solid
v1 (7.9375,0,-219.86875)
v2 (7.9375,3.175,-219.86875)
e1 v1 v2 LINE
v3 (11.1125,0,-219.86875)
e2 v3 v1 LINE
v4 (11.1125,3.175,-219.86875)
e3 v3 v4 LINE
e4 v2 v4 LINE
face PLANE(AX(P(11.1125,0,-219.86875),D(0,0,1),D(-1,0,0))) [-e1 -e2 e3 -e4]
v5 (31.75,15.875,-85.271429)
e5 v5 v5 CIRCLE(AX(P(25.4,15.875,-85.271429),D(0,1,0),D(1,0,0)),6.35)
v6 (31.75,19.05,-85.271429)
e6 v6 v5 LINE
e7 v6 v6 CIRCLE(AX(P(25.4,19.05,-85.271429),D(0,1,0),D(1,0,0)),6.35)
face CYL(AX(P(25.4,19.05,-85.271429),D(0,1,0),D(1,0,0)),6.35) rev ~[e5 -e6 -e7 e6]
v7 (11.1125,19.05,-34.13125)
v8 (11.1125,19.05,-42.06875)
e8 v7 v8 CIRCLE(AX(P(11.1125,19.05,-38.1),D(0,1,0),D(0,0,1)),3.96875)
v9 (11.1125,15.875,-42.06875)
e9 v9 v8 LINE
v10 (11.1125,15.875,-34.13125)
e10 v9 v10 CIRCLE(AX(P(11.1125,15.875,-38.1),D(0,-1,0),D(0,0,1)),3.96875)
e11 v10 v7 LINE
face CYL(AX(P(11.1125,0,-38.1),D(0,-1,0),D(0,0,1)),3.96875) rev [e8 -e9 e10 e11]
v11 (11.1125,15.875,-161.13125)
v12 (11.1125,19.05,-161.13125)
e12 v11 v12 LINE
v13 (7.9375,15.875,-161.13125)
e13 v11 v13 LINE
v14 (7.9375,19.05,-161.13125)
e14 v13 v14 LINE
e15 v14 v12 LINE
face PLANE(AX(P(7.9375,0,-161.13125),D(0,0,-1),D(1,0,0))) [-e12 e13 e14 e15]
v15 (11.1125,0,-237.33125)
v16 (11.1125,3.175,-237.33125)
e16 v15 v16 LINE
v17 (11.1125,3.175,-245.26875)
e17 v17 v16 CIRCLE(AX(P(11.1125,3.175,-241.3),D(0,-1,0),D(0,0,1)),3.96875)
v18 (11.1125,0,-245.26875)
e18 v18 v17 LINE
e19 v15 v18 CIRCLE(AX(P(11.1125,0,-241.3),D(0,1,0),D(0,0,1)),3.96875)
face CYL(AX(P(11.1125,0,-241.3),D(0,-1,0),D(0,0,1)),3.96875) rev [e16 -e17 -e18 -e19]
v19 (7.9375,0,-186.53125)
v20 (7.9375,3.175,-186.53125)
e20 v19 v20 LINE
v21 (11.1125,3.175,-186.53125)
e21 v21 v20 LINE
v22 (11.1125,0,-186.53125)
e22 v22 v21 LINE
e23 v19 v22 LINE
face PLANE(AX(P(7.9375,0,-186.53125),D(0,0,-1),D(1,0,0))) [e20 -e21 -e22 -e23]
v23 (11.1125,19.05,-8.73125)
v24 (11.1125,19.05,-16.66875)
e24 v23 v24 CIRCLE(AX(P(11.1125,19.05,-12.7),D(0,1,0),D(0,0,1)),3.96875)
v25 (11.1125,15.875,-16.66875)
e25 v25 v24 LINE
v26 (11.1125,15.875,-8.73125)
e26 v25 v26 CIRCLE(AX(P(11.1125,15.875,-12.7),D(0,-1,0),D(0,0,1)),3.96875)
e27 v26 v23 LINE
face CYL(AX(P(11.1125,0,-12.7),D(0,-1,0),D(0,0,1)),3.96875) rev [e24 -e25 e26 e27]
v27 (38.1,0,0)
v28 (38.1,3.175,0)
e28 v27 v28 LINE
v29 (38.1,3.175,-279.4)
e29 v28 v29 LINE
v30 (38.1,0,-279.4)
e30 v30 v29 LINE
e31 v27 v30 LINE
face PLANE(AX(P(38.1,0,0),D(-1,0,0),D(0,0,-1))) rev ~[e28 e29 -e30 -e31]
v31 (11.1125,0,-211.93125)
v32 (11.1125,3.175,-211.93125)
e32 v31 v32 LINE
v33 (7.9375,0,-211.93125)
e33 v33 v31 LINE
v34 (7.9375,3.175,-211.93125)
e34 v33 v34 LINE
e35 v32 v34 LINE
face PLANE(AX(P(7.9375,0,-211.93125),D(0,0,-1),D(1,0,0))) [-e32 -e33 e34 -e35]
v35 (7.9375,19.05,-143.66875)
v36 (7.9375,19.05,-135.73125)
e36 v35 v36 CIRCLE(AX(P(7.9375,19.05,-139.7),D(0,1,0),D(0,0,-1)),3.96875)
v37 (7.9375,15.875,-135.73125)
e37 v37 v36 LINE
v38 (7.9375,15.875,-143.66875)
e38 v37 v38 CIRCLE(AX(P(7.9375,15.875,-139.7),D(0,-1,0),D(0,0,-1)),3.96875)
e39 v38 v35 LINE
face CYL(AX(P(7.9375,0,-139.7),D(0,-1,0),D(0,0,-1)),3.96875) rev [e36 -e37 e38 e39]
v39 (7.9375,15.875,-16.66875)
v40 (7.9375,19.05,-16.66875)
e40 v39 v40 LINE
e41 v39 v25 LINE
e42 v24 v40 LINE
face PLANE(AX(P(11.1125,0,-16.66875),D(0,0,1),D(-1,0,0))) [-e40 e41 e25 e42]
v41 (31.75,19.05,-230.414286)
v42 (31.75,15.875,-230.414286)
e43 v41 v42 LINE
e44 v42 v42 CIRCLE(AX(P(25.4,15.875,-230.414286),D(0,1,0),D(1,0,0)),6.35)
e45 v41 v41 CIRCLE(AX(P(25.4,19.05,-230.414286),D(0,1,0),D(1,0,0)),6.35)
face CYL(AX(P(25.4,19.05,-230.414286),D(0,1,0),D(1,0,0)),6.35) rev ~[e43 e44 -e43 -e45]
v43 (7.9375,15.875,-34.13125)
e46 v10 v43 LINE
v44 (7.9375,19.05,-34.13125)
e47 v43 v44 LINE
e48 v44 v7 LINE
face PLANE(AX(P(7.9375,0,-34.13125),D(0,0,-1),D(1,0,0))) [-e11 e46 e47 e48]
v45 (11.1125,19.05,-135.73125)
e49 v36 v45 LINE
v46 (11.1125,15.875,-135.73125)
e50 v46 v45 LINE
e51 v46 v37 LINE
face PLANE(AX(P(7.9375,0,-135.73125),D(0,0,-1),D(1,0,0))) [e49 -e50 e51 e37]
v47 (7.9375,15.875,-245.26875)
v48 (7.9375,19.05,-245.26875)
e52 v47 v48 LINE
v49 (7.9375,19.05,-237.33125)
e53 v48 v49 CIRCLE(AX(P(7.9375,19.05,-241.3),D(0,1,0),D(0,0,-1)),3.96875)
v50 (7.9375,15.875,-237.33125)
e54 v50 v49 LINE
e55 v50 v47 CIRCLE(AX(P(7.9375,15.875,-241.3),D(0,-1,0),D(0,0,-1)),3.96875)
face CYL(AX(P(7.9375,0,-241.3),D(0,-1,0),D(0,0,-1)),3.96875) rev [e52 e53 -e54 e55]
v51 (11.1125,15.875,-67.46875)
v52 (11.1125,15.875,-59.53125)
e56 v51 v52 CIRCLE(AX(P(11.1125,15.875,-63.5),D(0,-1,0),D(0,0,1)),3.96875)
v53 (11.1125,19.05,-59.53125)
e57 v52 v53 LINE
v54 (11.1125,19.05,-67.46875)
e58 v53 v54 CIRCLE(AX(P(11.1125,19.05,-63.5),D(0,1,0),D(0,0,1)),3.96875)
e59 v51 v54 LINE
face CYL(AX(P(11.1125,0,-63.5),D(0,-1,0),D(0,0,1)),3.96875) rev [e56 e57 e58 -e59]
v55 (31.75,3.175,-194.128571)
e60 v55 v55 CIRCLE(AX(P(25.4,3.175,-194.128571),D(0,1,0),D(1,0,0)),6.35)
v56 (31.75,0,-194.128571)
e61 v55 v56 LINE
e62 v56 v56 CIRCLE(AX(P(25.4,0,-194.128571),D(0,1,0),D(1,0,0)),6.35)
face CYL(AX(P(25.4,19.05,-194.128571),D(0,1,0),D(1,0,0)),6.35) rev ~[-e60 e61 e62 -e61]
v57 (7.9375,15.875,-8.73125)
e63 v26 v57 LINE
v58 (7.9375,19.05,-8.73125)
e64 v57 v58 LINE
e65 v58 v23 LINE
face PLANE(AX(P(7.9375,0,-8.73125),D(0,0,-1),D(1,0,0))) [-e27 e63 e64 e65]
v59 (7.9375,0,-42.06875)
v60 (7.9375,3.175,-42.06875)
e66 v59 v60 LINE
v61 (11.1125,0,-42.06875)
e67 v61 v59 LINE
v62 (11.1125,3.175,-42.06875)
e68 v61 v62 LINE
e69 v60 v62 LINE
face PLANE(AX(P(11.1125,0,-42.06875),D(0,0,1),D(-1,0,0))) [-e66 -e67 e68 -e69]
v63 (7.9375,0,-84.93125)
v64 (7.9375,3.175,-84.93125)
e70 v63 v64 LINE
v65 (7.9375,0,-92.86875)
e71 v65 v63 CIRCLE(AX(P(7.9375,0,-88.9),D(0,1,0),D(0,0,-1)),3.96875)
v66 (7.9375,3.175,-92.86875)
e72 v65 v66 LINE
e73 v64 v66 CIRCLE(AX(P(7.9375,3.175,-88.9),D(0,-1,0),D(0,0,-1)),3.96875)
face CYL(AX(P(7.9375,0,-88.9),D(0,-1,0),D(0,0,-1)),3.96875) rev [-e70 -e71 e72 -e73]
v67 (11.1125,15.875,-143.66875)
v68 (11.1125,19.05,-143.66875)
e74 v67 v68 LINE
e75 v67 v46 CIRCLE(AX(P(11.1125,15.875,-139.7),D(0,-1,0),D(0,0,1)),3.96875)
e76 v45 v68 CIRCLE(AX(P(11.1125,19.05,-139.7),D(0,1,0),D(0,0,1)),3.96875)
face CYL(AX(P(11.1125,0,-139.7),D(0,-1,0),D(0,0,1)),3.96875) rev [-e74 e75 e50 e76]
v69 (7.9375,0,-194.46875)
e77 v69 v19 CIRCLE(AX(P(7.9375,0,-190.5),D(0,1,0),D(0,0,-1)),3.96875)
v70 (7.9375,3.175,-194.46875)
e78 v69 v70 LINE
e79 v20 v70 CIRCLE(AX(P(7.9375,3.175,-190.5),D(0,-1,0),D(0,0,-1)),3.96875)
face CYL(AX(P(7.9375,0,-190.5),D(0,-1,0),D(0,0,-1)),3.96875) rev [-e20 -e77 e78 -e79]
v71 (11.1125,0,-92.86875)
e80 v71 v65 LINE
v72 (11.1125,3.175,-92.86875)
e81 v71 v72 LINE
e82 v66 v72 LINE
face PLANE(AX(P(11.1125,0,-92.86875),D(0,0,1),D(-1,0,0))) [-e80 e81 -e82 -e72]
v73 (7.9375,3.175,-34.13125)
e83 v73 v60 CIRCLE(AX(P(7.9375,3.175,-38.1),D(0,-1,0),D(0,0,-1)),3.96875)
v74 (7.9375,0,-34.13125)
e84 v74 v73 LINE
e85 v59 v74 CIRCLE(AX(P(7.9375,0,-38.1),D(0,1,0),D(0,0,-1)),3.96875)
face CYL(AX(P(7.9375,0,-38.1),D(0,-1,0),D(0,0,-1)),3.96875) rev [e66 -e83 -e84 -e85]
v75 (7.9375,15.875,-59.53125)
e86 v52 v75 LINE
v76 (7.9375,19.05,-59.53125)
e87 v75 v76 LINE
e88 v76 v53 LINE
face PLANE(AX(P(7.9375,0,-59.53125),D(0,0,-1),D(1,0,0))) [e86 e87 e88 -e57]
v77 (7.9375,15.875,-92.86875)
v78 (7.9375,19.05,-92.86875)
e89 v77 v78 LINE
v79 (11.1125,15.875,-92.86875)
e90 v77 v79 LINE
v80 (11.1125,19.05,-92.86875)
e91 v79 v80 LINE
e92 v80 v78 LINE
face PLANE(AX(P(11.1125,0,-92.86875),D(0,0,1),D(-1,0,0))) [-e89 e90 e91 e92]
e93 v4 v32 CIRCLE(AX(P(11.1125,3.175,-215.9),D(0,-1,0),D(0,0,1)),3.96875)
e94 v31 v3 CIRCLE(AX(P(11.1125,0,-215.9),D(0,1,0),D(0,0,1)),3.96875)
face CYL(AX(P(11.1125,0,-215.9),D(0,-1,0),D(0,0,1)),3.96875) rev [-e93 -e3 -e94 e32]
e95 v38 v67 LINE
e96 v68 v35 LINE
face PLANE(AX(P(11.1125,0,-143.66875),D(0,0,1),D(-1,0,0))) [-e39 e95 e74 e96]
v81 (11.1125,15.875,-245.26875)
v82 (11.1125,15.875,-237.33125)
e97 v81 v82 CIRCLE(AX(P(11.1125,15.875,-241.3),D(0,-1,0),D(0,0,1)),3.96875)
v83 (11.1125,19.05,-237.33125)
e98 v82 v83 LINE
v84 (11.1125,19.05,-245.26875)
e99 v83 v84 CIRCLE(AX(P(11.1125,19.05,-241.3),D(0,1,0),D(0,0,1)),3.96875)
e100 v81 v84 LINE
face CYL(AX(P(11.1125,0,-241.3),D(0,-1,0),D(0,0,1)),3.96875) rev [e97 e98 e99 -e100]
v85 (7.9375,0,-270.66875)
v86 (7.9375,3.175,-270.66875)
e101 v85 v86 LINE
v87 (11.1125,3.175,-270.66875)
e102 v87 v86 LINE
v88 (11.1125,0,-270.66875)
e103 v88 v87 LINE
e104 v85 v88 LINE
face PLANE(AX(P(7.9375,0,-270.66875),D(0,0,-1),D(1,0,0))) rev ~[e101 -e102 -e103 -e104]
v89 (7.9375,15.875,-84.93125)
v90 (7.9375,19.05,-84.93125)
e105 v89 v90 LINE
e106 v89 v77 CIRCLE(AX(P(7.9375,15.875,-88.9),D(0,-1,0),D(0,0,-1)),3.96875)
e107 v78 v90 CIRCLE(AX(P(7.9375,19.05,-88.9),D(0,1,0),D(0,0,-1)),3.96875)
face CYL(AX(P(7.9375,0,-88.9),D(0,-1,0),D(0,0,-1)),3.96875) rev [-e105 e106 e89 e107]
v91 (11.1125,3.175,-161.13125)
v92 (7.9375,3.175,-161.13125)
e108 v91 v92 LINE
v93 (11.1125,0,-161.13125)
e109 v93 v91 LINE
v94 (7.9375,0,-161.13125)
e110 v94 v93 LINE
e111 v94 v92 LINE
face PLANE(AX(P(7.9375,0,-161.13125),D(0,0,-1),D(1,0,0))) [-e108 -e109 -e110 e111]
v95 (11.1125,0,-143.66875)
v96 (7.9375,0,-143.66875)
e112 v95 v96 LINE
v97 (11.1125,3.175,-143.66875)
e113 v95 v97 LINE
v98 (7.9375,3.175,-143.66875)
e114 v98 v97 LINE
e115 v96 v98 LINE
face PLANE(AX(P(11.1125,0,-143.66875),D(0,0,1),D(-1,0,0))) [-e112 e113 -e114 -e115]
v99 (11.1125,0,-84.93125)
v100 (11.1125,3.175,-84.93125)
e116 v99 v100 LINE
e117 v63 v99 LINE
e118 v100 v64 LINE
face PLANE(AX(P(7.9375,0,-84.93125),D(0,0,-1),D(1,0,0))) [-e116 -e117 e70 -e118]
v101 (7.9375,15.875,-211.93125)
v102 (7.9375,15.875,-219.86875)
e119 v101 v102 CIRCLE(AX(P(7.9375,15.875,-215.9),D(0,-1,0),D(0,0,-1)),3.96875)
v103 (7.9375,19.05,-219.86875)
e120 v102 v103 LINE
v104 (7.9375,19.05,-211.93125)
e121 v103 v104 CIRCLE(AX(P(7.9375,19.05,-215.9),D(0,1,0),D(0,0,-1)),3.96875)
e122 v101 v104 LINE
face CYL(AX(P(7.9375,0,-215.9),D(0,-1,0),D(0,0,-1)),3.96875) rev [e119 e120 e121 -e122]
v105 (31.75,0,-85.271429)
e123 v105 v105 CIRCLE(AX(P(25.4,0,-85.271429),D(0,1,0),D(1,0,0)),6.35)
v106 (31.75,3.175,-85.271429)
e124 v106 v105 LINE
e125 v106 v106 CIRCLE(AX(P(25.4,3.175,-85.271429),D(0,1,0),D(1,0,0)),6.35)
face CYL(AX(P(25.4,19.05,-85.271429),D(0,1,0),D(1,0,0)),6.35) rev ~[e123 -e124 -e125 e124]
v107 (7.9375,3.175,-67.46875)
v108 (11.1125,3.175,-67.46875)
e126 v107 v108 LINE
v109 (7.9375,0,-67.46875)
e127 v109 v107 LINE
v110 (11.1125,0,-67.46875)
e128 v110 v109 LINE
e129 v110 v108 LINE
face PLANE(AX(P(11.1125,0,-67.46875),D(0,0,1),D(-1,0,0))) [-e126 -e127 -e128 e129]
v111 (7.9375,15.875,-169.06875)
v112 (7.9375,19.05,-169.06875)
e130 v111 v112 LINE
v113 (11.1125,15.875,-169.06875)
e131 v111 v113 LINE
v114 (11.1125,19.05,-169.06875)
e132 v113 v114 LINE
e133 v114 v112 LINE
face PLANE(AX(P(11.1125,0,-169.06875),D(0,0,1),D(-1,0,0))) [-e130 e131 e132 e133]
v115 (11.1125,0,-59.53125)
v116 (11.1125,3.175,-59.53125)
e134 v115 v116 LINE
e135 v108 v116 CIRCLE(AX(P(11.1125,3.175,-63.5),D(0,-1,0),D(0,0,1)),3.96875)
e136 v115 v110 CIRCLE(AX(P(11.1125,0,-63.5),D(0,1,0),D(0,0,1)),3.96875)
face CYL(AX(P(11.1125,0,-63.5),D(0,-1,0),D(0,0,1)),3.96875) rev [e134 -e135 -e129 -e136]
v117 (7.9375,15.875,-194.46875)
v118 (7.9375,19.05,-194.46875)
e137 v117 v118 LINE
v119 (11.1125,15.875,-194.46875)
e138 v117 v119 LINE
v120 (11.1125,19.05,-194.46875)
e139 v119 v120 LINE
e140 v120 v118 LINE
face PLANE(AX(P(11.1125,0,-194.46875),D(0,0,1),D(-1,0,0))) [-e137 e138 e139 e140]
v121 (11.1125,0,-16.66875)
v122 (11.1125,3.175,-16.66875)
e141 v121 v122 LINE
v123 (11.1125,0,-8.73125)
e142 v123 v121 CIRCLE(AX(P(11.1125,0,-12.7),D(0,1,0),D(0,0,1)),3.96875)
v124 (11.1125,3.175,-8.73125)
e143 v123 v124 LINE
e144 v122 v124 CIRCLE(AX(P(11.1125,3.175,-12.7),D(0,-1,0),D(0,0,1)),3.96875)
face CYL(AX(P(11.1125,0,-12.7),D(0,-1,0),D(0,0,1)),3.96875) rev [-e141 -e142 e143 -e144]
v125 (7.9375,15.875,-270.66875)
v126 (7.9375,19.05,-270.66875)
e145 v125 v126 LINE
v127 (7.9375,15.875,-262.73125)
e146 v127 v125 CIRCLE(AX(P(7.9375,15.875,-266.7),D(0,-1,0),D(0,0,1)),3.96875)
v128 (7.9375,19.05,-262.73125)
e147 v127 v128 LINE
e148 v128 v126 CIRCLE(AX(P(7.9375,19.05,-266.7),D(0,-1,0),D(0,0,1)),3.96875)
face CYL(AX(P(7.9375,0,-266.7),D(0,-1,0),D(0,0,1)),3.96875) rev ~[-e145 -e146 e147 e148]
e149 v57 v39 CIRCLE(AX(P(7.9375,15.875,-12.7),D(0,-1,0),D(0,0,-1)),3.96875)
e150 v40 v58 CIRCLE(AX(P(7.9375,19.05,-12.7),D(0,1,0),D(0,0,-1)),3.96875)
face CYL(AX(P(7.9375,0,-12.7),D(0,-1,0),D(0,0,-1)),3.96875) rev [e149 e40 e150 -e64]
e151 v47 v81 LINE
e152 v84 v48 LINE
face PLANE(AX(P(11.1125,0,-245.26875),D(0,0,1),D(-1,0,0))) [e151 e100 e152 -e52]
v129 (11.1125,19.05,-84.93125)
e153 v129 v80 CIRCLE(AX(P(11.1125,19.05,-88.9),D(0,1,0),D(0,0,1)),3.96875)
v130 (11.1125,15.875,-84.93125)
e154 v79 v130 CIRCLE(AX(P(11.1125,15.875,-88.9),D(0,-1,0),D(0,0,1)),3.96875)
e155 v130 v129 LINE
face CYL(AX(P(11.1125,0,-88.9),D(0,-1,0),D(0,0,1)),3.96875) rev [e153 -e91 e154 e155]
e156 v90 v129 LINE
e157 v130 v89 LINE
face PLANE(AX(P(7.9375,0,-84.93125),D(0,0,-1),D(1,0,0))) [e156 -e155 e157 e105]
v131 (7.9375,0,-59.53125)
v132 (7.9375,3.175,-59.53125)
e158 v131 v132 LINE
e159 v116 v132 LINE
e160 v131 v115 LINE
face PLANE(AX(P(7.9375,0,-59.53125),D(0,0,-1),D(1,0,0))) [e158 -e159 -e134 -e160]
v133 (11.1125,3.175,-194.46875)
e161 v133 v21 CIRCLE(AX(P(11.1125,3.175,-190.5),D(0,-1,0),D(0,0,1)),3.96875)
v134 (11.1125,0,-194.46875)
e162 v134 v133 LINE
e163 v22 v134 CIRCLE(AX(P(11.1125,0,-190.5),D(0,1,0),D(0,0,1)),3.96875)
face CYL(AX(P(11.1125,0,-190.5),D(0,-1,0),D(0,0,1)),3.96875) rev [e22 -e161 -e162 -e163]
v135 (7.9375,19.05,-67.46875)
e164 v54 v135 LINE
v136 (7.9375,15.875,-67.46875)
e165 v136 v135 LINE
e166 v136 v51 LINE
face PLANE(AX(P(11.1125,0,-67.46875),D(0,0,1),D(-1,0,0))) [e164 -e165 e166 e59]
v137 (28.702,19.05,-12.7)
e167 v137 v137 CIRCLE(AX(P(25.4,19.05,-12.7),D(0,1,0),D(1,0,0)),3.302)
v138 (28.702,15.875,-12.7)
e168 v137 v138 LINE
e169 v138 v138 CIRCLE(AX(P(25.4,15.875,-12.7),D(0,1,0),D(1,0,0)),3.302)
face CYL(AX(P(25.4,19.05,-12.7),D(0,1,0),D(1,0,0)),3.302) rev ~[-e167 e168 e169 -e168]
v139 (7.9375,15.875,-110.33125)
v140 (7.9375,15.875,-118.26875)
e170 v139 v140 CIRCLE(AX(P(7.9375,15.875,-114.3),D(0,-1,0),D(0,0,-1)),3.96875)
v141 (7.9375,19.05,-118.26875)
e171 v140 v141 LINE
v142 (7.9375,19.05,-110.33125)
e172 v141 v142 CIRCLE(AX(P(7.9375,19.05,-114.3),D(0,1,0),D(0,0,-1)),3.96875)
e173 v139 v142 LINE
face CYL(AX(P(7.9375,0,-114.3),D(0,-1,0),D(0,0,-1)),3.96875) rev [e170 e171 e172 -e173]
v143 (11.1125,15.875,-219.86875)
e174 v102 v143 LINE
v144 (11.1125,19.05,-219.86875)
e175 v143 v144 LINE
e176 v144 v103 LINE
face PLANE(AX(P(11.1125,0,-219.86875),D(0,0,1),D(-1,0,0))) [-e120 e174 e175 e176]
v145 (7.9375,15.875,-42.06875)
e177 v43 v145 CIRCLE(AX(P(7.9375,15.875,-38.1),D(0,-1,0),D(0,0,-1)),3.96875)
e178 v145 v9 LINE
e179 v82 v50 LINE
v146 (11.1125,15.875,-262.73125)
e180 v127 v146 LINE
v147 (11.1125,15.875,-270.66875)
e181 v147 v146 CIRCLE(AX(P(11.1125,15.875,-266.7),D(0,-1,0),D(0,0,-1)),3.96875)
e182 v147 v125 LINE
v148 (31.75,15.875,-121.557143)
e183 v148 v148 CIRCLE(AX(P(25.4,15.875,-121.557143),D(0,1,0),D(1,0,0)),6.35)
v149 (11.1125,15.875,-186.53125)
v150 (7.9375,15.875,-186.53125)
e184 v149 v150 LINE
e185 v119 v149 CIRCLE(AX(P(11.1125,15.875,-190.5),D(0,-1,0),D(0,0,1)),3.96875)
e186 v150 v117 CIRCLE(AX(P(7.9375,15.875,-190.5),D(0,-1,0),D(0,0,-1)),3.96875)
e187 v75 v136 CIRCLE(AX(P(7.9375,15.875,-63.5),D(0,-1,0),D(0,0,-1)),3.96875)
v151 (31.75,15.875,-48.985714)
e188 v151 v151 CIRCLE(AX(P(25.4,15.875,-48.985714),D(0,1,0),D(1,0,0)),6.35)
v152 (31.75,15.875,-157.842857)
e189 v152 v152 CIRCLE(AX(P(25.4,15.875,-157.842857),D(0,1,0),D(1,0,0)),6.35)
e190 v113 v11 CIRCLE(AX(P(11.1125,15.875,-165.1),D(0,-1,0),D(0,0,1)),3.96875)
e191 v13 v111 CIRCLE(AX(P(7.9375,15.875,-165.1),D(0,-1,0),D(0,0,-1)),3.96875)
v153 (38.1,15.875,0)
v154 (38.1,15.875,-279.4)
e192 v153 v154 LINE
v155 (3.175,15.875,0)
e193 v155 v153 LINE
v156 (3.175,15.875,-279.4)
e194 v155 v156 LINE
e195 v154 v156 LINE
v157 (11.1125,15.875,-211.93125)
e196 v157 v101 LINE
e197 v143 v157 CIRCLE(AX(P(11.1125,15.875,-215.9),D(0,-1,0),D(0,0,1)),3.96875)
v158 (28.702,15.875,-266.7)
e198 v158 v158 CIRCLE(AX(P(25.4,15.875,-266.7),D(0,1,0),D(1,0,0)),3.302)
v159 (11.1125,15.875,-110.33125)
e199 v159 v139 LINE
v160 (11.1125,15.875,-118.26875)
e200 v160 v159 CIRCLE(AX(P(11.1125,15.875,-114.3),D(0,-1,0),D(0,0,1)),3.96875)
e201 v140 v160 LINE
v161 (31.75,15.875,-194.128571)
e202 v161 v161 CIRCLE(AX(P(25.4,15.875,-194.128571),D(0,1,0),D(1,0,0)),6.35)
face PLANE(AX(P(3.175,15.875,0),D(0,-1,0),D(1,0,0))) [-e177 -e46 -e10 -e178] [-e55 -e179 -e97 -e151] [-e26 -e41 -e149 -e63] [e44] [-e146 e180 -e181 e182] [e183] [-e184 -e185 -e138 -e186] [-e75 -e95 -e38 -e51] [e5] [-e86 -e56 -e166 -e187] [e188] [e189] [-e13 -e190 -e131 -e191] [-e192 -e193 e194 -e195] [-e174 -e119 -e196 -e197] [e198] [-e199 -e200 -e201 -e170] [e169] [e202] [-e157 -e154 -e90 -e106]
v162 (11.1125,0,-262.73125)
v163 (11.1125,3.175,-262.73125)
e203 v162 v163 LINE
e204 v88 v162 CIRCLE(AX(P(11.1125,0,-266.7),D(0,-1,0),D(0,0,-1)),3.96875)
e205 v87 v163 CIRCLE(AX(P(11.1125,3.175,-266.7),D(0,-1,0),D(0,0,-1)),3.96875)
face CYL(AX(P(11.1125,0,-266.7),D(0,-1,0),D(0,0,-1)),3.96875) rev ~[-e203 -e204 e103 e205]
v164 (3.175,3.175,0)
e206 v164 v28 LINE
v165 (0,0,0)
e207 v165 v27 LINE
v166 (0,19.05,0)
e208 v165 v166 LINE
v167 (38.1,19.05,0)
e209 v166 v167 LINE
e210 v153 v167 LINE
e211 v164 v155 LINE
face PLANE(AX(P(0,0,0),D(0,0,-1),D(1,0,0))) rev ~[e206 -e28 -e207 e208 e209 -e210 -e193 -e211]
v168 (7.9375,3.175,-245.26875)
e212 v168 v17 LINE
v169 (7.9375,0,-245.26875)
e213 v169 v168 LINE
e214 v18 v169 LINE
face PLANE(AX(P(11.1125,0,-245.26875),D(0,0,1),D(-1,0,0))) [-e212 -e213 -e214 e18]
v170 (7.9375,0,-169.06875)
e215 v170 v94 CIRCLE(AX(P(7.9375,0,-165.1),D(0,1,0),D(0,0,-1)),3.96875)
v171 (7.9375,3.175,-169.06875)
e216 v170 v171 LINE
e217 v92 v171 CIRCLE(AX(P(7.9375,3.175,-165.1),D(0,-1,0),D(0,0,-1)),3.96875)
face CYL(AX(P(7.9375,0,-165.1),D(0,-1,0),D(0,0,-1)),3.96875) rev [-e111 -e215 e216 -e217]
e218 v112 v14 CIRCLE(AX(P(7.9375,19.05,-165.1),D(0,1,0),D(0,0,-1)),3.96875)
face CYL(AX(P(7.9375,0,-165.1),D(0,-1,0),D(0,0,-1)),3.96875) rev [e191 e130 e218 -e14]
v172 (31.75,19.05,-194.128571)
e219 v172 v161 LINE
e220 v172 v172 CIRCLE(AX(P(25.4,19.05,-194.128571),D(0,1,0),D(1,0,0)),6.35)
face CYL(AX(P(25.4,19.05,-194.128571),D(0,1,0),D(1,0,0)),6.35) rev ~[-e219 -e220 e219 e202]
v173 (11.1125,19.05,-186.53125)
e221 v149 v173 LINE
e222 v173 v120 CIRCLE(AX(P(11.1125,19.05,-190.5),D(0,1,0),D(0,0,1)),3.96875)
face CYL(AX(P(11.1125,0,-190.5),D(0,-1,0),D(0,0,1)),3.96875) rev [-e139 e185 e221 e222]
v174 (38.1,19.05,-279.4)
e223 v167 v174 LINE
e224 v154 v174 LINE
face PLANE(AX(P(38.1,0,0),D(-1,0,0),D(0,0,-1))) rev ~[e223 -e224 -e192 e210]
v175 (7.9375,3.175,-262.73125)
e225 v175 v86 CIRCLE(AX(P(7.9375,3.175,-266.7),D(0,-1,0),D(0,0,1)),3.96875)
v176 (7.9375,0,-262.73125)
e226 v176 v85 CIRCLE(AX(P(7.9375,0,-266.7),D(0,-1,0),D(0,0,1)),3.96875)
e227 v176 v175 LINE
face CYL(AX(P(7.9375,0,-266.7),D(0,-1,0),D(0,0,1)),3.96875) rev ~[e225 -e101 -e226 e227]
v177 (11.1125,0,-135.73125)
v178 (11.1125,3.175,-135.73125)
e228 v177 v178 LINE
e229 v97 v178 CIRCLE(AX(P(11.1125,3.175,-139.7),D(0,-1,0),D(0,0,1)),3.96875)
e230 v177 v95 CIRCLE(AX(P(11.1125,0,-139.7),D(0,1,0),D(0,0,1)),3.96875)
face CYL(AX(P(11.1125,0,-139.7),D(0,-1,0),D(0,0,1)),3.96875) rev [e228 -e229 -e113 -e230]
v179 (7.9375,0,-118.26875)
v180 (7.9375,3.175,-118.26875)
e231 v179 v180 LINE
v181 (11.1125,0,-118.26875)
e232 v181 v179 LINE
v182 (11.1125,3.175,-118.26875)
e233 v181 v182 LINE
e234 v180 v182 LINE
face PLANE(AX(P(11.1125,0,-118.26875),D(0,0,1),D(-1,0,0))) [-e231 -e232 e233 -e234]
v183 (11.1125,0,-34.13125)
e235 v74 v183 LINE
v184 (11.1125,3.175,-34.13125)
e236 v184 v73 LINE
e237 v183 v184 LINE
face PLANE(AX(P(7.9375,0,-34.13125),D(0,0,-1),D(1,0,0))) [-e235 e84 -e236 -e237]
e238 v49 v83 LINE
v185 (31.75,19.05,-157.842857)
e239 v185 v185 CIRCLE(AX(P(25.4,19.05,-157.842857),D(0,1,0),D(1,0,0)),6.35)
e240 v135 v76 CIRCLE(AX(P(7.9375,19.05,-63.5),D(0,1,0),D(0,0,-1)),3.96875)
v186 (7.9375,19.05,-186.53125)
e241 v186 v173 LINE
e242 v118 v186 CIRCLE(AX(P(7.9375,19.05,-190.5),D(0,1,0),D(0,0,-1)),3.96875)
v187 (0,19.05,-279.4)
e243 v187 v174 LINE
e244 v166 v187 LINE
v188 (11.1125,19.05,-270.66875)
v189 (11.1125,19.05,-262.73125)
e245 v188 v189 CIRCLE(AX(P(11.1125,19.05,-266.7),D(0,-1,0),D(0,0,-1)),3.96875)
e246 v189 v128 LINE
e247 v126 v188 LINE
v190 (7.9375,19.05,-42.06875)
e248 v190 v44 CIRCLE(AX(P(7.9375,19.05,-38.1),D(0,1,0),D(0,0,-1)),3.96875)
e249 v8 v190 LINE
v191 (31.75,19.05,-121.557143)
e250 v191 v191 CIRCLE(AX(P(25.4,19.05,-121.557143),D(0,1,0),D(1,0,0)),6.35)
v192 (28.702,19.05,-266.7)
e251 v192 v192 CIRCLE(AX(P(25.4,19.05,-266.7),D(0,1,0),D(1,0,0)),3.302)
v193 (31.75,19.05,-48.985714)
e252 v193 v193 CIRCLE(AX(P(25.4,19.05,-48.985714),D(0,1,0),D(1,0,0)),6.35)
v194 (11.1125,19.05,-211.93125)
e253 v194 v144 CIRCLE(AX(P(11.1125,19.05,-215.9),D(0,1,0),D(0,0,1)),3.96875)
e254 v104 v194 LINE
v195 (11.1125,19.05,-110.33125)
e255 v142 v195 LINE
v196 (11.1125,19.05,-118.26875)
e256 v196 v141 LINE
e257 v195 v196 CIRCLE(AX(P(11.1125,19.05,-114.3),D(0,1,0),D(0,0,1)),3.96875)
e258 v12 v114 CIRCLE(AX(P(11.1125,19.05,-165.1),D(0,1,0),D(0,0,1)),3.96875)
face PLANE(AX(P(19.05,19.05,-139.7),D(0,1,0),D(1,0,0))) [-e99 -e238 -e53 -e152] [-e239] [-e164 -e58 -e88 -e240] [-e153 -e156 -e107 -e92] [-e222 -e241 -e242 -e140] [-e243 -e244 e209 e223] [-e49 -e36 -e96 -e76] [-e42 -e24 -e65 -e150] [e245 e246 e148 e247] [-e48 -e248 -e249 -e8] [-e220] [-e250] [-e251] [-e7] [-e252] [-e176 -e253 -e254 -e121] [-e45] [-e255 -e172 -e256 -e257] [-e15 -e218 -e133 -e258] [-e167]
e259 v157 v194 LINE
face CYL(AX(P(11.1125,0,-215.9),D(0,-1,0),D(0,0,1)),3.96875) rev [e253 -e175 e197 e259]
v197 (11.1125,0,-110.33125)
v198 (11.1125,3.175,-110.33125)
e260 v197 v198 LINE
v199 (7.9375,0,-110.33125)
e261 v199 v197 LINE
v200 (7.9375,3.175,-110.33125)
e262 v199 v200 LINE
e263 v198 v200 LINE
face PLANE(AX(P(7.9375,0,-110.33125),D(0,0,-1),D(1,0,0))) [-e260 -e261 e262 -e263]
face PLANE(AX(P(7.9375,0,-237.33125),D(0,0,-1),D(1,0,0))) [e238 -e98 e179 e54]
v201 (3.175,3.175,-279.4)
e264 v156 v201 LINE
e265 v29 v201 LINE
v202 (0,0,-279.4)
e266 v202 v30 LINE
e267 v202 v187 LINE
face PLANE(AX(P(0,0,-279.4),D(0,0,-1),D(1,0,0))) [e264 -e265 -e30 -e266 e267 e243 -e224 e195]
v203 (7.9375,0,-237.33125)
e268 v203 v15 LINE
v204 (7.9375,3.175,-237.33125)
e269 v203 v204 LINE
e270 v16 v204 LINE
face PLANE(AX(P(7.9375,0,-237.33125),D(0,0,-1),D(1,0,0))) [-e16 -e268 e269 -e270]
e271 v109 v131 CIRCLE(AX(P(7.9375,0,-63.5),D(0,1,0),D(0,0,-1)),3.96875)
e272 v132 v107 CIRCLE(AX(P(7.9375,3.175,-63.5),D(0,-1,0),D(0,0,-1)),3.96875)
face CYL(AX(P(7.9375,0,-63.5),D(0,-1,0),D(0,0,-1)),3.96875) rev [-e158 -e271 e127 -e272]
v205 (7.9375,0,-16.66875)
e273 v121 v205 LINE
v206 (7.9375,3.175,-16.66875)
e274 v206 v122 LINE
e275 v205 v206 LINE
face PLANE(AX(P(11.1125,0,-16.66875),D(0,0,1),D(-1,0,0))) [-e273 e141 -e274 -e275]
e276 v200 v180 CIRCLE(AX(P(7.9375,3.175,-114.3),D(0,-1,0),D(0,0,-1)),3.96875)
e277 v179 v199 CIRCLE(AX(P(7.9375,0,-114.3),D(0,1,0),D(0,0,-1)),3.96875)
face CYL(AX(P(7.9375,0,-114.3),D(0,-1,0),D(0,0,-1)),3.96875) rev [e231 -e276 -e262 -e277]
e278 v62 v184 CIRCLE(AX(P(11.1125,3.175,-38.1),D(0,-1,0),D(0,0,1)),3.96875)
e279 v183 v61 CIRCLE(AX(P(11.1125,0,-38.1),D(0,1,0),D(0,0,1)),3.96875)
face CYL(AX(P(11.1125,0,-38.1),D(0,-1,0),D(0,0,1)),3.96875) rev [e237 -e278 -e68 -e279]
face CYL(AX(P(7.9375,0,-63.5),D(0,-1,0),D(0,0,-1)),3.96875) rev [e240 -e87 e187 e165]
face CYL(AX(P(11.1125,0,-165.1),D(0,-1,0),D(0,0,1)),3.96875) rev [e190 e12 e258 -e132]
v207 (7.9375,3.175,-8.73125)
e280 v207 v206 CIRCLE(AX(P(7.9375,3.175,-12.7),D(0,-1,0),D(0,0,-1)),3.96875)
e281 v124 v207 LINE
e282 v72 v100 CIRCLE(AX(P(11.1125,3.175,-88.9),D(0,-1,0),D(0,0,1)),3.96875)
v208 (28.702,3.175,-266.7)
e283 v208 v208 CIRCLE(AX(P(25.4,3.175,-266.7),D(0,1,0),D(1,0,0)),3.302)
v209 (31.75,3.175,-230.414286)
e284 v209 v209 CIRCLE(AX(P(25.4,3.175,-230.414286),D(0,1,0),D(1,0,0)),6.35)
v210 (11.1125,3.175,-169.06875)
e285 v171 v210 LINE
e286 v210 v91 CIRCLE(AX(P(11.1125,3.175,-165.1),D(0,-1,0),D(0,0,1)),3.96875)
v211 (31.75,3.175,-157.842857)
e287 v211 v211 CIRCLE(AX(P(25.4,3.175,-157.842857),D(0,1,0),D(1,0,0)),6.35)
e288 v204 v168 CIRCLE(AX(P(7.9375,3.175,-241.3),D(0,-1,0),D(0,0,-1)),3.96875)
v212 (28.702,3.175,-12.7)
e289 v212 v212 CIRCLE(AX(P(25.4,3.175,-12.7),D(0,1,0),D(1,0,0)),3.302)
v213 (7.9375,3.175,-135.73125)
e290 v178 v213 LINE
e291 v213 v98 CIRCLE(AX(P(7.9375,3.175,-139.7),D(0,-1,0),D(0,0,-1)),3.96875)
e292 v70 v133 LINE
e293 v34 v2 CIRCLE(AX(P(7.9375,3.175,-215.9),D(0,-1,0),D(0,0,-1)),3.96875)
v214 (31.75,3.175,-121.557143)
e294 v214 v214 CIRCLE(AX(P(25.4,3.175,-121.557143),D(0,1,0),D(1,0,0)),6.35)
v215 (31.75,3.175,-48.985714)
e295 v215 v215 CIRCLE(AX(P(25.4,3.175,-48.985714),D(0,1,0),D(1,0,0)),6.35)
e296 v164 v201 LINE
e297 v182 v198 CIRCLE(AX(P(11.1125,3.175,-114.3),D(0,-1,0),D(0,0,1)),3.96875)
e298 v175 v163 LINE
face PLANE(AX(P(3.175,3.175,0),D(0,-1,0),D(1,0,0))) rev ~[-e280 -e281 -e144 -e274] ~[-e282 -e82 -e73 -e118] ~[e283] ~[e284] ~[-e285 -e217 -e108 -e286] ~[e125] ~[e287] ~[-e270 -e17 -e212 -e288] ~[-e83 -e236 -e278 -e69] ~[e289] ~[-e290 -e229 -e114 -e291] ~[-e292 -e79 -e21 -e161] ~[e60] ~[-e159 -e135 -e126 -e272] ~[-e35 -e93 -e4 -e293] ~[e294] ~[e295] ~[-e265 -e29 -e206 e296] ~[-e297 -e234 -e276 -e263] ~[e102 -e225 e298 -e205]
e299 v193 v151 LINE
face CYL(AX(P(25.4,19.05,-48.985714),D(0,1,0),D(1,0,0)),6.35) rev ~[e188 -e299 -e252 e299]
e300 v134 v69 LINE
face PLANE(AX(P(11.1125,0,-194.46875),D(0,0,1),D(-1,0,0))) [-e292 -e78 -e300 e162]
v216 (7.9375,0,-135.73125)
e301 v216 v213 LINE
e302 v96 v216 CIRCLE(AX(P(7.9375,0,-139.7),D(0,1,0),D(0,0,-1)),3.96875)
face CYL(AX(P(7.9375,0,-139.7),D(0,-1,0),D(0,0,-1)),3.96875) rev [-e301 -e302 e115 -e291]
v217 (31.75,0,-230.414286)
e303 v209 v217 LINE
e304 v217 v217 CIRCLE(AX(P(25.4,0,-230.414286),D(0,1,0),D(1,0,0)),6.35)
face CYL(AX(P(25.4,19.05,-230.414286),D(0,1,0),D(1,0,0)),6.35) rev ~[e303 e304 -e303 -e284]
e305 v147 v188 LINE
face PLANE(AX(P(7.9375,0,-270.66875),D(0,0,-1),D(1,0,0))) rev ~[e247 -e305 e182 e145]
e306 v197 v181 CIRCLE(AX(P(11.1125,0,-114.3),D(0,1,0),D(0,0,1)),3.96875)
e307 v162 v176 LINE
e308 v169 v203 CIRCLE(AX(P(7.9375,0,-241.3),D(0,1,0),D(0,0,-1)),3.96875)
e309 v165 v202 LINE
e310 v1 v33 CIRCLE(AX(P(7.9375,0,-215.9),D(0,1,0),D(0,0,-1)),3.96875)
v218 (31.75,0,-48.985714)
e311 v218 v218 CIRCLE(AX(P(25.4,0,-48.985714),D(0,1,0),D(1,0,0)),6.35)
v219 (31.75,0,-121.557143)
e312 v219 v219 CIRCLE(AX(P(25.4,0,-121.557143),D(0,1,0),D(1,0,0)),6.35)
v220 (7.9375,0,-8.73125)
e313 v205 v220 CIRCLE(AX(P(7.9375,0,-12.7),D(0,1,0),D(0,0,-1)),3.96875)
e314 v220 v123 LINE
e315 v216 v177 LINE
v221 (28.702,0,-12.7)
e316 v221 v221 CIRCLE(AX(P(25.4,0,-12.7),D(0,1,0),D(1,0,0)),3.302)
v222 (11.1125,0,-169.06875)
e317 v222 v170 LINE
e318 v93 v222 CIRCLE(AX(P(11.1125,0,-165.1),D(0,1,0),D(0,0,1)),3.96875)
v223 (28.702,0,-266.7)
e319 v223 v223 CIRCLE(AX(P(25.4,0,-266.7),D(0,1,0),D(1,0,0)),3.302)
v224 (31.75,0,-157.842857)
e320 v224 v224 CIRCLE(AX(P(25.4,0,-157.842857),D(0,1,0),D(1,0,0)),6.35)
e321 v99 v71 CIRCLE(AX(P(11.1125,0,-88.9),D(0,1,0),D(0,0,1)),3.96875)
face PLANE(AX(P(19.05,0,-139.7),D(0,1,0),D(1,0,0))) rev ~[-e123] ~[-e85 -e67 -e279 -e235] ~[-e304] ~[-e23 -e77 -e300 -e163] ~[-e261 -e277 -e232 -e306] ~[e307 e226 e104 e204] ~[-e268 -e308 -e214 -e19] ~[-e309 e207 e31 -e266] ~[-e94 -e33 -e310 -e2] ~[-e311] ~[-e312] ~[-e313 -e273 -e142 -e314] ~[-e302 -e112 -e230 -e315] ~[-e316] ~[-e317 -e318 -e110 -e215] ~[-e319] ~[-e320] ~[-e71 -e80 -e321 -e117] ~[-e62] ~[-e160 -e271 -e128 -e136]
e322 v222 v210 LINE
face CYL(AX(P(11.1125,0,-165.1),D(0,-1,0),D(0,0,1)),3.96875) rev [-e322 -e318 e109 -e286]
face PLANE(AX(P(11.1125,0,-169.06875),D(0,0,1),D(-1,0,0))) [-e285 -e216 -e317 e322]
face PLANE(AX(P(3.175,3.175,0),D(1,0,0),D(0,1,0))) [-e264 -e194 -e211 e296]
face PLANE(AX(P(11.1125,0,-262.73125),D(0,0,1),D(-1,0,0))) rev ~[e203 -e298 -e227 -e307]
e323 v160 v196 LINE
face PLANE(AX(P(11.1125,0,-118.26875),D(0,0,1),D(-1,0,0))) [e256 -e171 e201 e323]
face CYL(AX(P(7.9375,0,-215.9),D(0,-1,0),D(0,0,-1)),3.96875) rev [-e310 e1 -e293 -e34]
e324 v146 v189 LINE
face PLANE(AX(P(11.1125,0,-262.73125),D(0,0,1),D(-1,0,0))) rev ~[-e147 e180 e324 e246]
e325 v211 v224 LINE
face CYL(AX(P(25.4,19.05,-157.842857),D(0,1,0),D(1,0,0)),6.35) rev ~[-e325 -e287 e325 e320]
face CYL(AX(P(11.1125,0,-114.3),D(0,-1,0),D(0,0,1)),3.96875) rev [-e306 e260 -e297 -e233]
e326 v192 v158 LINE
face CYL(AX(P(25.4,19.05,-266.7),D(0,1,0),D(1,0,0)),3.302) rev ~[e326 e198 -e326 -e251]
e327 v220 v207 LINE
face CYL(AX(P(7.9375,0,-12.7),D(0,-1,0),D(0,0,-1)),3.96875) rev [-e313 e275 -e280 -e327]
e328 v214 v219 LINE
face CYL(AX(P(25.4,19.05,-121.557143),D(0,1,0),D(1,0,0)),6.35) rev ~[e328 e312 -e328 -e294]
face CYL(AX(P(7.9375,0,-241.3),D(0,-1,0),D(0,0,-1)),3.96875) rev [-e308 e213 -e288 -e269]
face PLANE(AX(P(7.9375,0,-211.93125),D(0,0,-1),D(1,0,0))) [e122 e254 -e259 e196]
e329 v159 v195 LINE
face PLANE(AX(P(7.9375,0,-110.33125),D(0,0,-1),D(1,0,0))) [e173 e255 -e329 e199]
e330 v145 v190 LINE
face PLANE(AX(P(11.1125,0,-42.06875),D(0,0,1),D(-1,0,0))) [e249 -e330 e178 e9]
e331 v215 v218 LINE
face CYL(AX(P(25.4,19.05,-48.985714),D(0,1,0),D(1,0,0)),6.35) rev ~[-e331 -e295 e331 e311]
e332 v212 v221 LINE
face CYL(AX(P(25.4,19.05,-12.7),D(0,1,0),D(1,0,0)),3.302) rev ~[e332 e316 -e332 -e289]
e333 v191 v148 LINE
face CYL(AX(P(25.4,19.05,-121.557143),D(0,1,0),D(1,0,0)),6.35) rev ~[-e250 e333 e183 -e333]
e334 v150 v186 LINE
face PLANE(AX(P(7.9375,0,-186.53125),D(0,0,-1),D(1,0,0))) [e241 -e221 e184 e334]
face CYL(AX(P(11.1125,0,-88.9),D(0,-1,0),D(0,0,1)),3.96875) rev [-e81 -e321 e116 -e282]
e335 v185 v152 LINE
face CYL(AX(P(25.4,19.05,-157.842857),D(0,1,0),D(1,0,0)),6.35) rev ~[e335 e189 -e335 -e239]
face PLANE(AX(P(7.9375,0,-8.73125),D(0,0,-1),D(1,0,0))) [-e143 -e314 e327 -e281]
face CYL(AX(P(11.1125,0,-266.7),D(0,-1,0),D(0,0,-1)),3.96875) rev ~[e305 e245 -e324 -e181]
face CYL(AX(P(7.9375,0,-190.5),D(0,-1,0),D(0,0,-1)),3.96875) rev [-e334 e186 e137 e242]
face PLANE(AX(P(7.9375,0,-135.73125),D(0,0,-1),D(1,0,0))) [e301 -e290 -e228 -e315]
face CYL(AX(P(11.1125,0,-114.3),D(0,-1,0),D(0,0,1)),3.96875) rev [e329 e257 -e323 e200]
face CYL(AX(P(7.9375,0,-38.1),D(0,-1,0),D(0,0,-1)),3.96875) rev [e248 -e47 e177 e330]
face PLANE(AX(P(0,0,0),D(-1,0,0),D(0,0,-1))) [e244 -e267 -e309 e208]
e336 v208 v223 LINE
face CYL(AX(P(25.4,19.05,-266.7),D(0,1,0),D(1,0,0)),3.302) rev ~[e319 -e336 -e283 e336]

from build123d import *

# Parameters (mm, degrees)
SKETCH1_W           = 38.1
SKETCH1_H           = 279.4
BOSS_EXTRUDE1_DEPTH = 19.05
SKETCH2_R           = 6.35
SKETCH2_R_2         = 3.302
CUT_EXTRUDE1_DEPTH  = 20.05
SKETCH3_W           = 34.925
SKETCH3_H           = 12.7
CUT_EXTRUDE2_DEPTH  = 330.2


with BuildPart() as part:
    # Sketch1 → Boss-Extrude1 (new body)
    with BuildSketch(Plane(origin=(0, 0, 0), x_dir=(1, 0, 0), z_dir=(0, 1, 0))):
        with Locations((19.05, 139.7)):
            Rectangle(SKETCH1_W, SKETCH1_H)
        with BuildLine():
            Line((7.9375, 270.66875), (11.1125, 270.66875))
            ThreePointArc((11.1125, 270.66875), (15.08125, 266.7), (11.1125, 262.73125))
            Line((11.1125, 262.73125), (7.9375, 262.73125))
            ThreePointArc((7.9375, 262.73125), (3.96875, 266.7), (7.9375, 270.66875))
        make_face(mode=Mode.SUBTRACT)
        with BuildLine():
            Line((7.9375, 237.33125), (11.1125, 237.33125))
            ThreePointArc((11.1125, 237.33125), (15.08125, 241.3), (11.1125, 245.26875))
            Line((11.1125, 245.26875), (7.9375, 245.26875))
            ThreePointArc((7.9375, 245.26875), (3.96875, 241.3), (7.9375, 237.33125))
        make_face(mode=Mode.SUBTRACT)
        with BuildLine():
            Line((7.9375, 211.93125), (11.1125, 211.93125))
            ThreePointArc((11.1125, 211.93125), (15.08125, 215.9), (11.1125, 219.86875))
            Line((11.1125, 219.86875), (7.9375, 219.86875))
            ThreePointArc((7.9375, 219.86875), (3.96875, 215.9), (7.9375, 211.93125))
        make_face(mode=Mode.SUBTRACT)
        with BuildLine():
            Line((7.9375, 186.53125), (11.1125, 186.53125))
            ThreePointArc((11.1125, 186.53125), (15.08125, 190.5), (11.1125, 194.46875))
            Line((11.1125, 194.46875), (7.9375, 194.46875))
            ThreePointArc((7.9375, 194.46875), (3.96875, 190.5), (7.9375, 186.53125))
        make_face(mode=Mode.SUBTRACT)
        with BuildLine():
            Line((7.9375, 161.13125), (11.1125, 161.13125))
            ThreePointArc((11.1125, 161.13125), (15.08125, 165.1), (11.1125, 169.06875))
            Line((11.1125, 169.06875), (7.9375, 169.06875))
            ThreePointArc((7.9375, 169.06875), (3.96875, 165.1), (7.9375, 161.13125))
        make_face(mode=Mode.SUBTRACT)
        with BuildLine():
            Line((7.9375, 135.73125), (11.1125, 135.73125))
            ThreePointArc((11.1125, 135.73125), (15.08125, 139.7), (11.1125, 143.66875))
            Line((11.1125, 143.66875), (7.9375, 143.66875))
            ThreePointArc((7.9375, 143.66875), (3.96875, 139.7), (7.9375, 135.73125))
        make_face(mode=Mode.SUBTRACT)
        with BuildLine():
            Line((7.9375, 110.33125), (11.1125, 110.33125))
            ThreePointArc((11.1125, 110.33125), (15.08125, 114.3), (11.1125, 118.26875))
            Line((11.1125, 118.26875), (7.9375, 118.26875))
            ThreePointArc((7.9375, 118.26875), (3.96875, 114.3), (7.9375, 110.33125))
        make_face(mode=Mode.SUBTRACT)
        with BuildLine():
            Line((7.9375, 84.93125), (11.1125, 84.93125))
            ThreePointArc((11.1125, 84.93125), (15.08125, 88.9), (11.1125, 92.86875))
            Line((11.1125, 92.86875), (7.9375, 92.86875))
            ThreePointArc((7.9375, 92.86875), (3.96875, 88.9), (7.9375, 84.93125))
        make_face(mode=Mode.SUBTRACT)
        with BuildLine():
            Line((7.9375, 59.53125), (11.1125, 59.53125))
            ThreePointArc((11.1125, 59.53125), (15.08125, 63.5), (11.1125, 67.46875))
            Line((11.1125, 67.46875), (7.9375, 67.46875))
            ThreePointArc((7.9375, 67.46875), (3.96875, 63.5), (7.9375, 59.53125))
        make_face(mode=Mode.SUBTRACT)
        with BuildLine():
            Line((7.9375, 34.13125), (11.1125, 34.13125))
            ThreePointArc((11.1125, 34.13125), (15.08125, 38.1), (11.1125, 42.06875))
            Line((11.1125, 42.06875), (7.9375, 42.06875))
            ThreePointArc((7.9375, 42.06875), (3.96875, 38.1), (7.9375, 34.13125))
        make_face(mode=Mode.SUBTRACT)
        with BuildLine():
            Line((7.9375, 8.73125), (11.1125, 8.73125))
            ThreePointArc((11.1125, 8.73125), (15.08125, 12.7), (11.1125, 16.66875))
            Line((11.1125, 16.66875), (7.9375, 16.66875))
            ThreePointArc((7.9375, 16.66875), (3.96875, 12.7), (7.9375, 8.73125))
        make_face(mode=Mode.SUBTRACT)
    extrude(amount=BOSS_EXTRUDE1_DEPTH)

    # Sketch2 → Cut-Extrude1 (cut, through all)
    with BuildSketch(Plane(origin=(0, 19.05, 0), x_dir=(1, 0, 0), z_dir=(0, 1, 0))):
        with Locations((25.4, 230.414285714)):
            Circle(SKETCH2_R)
        with Locations((25.4, 194.128571429)):
            Circle(SKETCH2_R)
        with Locations((25.4, 157.842857143)):
            Circle(SKETCH2_R)
        with Locations((25.4, 121.557142857)):
            Circle(SKETCH2_R)
        with Locations((25.4, 85.271428571)):
            Circle(SKETCH2_R)
        with Locations((25.4, 48.985714286)):
            Circle(SKETCH2_R)
        with Locations((25.4, 266.7)):
            Circle(SKETCH2_R_2)
        with Locations((25.4, 12.7)):
            Circle(SKETCH2_R_2)
    extrude(amount=-CUT_EXTRUDE1_DEPTH, mode=Mode.SUBTRACT)

    # Sketch3 → Cut-Extrude2 (cut)
    with BuildSketch(Plane.XY):
        with Locations((20.6375, 9.525)):
            Rectangle(SKETCH3_W, SKETCH3_H)
    extrude(amount=-CUT_EXTRUDE2_DEPTH, mode=Mode.SUBTRACT)


solid = part.part
